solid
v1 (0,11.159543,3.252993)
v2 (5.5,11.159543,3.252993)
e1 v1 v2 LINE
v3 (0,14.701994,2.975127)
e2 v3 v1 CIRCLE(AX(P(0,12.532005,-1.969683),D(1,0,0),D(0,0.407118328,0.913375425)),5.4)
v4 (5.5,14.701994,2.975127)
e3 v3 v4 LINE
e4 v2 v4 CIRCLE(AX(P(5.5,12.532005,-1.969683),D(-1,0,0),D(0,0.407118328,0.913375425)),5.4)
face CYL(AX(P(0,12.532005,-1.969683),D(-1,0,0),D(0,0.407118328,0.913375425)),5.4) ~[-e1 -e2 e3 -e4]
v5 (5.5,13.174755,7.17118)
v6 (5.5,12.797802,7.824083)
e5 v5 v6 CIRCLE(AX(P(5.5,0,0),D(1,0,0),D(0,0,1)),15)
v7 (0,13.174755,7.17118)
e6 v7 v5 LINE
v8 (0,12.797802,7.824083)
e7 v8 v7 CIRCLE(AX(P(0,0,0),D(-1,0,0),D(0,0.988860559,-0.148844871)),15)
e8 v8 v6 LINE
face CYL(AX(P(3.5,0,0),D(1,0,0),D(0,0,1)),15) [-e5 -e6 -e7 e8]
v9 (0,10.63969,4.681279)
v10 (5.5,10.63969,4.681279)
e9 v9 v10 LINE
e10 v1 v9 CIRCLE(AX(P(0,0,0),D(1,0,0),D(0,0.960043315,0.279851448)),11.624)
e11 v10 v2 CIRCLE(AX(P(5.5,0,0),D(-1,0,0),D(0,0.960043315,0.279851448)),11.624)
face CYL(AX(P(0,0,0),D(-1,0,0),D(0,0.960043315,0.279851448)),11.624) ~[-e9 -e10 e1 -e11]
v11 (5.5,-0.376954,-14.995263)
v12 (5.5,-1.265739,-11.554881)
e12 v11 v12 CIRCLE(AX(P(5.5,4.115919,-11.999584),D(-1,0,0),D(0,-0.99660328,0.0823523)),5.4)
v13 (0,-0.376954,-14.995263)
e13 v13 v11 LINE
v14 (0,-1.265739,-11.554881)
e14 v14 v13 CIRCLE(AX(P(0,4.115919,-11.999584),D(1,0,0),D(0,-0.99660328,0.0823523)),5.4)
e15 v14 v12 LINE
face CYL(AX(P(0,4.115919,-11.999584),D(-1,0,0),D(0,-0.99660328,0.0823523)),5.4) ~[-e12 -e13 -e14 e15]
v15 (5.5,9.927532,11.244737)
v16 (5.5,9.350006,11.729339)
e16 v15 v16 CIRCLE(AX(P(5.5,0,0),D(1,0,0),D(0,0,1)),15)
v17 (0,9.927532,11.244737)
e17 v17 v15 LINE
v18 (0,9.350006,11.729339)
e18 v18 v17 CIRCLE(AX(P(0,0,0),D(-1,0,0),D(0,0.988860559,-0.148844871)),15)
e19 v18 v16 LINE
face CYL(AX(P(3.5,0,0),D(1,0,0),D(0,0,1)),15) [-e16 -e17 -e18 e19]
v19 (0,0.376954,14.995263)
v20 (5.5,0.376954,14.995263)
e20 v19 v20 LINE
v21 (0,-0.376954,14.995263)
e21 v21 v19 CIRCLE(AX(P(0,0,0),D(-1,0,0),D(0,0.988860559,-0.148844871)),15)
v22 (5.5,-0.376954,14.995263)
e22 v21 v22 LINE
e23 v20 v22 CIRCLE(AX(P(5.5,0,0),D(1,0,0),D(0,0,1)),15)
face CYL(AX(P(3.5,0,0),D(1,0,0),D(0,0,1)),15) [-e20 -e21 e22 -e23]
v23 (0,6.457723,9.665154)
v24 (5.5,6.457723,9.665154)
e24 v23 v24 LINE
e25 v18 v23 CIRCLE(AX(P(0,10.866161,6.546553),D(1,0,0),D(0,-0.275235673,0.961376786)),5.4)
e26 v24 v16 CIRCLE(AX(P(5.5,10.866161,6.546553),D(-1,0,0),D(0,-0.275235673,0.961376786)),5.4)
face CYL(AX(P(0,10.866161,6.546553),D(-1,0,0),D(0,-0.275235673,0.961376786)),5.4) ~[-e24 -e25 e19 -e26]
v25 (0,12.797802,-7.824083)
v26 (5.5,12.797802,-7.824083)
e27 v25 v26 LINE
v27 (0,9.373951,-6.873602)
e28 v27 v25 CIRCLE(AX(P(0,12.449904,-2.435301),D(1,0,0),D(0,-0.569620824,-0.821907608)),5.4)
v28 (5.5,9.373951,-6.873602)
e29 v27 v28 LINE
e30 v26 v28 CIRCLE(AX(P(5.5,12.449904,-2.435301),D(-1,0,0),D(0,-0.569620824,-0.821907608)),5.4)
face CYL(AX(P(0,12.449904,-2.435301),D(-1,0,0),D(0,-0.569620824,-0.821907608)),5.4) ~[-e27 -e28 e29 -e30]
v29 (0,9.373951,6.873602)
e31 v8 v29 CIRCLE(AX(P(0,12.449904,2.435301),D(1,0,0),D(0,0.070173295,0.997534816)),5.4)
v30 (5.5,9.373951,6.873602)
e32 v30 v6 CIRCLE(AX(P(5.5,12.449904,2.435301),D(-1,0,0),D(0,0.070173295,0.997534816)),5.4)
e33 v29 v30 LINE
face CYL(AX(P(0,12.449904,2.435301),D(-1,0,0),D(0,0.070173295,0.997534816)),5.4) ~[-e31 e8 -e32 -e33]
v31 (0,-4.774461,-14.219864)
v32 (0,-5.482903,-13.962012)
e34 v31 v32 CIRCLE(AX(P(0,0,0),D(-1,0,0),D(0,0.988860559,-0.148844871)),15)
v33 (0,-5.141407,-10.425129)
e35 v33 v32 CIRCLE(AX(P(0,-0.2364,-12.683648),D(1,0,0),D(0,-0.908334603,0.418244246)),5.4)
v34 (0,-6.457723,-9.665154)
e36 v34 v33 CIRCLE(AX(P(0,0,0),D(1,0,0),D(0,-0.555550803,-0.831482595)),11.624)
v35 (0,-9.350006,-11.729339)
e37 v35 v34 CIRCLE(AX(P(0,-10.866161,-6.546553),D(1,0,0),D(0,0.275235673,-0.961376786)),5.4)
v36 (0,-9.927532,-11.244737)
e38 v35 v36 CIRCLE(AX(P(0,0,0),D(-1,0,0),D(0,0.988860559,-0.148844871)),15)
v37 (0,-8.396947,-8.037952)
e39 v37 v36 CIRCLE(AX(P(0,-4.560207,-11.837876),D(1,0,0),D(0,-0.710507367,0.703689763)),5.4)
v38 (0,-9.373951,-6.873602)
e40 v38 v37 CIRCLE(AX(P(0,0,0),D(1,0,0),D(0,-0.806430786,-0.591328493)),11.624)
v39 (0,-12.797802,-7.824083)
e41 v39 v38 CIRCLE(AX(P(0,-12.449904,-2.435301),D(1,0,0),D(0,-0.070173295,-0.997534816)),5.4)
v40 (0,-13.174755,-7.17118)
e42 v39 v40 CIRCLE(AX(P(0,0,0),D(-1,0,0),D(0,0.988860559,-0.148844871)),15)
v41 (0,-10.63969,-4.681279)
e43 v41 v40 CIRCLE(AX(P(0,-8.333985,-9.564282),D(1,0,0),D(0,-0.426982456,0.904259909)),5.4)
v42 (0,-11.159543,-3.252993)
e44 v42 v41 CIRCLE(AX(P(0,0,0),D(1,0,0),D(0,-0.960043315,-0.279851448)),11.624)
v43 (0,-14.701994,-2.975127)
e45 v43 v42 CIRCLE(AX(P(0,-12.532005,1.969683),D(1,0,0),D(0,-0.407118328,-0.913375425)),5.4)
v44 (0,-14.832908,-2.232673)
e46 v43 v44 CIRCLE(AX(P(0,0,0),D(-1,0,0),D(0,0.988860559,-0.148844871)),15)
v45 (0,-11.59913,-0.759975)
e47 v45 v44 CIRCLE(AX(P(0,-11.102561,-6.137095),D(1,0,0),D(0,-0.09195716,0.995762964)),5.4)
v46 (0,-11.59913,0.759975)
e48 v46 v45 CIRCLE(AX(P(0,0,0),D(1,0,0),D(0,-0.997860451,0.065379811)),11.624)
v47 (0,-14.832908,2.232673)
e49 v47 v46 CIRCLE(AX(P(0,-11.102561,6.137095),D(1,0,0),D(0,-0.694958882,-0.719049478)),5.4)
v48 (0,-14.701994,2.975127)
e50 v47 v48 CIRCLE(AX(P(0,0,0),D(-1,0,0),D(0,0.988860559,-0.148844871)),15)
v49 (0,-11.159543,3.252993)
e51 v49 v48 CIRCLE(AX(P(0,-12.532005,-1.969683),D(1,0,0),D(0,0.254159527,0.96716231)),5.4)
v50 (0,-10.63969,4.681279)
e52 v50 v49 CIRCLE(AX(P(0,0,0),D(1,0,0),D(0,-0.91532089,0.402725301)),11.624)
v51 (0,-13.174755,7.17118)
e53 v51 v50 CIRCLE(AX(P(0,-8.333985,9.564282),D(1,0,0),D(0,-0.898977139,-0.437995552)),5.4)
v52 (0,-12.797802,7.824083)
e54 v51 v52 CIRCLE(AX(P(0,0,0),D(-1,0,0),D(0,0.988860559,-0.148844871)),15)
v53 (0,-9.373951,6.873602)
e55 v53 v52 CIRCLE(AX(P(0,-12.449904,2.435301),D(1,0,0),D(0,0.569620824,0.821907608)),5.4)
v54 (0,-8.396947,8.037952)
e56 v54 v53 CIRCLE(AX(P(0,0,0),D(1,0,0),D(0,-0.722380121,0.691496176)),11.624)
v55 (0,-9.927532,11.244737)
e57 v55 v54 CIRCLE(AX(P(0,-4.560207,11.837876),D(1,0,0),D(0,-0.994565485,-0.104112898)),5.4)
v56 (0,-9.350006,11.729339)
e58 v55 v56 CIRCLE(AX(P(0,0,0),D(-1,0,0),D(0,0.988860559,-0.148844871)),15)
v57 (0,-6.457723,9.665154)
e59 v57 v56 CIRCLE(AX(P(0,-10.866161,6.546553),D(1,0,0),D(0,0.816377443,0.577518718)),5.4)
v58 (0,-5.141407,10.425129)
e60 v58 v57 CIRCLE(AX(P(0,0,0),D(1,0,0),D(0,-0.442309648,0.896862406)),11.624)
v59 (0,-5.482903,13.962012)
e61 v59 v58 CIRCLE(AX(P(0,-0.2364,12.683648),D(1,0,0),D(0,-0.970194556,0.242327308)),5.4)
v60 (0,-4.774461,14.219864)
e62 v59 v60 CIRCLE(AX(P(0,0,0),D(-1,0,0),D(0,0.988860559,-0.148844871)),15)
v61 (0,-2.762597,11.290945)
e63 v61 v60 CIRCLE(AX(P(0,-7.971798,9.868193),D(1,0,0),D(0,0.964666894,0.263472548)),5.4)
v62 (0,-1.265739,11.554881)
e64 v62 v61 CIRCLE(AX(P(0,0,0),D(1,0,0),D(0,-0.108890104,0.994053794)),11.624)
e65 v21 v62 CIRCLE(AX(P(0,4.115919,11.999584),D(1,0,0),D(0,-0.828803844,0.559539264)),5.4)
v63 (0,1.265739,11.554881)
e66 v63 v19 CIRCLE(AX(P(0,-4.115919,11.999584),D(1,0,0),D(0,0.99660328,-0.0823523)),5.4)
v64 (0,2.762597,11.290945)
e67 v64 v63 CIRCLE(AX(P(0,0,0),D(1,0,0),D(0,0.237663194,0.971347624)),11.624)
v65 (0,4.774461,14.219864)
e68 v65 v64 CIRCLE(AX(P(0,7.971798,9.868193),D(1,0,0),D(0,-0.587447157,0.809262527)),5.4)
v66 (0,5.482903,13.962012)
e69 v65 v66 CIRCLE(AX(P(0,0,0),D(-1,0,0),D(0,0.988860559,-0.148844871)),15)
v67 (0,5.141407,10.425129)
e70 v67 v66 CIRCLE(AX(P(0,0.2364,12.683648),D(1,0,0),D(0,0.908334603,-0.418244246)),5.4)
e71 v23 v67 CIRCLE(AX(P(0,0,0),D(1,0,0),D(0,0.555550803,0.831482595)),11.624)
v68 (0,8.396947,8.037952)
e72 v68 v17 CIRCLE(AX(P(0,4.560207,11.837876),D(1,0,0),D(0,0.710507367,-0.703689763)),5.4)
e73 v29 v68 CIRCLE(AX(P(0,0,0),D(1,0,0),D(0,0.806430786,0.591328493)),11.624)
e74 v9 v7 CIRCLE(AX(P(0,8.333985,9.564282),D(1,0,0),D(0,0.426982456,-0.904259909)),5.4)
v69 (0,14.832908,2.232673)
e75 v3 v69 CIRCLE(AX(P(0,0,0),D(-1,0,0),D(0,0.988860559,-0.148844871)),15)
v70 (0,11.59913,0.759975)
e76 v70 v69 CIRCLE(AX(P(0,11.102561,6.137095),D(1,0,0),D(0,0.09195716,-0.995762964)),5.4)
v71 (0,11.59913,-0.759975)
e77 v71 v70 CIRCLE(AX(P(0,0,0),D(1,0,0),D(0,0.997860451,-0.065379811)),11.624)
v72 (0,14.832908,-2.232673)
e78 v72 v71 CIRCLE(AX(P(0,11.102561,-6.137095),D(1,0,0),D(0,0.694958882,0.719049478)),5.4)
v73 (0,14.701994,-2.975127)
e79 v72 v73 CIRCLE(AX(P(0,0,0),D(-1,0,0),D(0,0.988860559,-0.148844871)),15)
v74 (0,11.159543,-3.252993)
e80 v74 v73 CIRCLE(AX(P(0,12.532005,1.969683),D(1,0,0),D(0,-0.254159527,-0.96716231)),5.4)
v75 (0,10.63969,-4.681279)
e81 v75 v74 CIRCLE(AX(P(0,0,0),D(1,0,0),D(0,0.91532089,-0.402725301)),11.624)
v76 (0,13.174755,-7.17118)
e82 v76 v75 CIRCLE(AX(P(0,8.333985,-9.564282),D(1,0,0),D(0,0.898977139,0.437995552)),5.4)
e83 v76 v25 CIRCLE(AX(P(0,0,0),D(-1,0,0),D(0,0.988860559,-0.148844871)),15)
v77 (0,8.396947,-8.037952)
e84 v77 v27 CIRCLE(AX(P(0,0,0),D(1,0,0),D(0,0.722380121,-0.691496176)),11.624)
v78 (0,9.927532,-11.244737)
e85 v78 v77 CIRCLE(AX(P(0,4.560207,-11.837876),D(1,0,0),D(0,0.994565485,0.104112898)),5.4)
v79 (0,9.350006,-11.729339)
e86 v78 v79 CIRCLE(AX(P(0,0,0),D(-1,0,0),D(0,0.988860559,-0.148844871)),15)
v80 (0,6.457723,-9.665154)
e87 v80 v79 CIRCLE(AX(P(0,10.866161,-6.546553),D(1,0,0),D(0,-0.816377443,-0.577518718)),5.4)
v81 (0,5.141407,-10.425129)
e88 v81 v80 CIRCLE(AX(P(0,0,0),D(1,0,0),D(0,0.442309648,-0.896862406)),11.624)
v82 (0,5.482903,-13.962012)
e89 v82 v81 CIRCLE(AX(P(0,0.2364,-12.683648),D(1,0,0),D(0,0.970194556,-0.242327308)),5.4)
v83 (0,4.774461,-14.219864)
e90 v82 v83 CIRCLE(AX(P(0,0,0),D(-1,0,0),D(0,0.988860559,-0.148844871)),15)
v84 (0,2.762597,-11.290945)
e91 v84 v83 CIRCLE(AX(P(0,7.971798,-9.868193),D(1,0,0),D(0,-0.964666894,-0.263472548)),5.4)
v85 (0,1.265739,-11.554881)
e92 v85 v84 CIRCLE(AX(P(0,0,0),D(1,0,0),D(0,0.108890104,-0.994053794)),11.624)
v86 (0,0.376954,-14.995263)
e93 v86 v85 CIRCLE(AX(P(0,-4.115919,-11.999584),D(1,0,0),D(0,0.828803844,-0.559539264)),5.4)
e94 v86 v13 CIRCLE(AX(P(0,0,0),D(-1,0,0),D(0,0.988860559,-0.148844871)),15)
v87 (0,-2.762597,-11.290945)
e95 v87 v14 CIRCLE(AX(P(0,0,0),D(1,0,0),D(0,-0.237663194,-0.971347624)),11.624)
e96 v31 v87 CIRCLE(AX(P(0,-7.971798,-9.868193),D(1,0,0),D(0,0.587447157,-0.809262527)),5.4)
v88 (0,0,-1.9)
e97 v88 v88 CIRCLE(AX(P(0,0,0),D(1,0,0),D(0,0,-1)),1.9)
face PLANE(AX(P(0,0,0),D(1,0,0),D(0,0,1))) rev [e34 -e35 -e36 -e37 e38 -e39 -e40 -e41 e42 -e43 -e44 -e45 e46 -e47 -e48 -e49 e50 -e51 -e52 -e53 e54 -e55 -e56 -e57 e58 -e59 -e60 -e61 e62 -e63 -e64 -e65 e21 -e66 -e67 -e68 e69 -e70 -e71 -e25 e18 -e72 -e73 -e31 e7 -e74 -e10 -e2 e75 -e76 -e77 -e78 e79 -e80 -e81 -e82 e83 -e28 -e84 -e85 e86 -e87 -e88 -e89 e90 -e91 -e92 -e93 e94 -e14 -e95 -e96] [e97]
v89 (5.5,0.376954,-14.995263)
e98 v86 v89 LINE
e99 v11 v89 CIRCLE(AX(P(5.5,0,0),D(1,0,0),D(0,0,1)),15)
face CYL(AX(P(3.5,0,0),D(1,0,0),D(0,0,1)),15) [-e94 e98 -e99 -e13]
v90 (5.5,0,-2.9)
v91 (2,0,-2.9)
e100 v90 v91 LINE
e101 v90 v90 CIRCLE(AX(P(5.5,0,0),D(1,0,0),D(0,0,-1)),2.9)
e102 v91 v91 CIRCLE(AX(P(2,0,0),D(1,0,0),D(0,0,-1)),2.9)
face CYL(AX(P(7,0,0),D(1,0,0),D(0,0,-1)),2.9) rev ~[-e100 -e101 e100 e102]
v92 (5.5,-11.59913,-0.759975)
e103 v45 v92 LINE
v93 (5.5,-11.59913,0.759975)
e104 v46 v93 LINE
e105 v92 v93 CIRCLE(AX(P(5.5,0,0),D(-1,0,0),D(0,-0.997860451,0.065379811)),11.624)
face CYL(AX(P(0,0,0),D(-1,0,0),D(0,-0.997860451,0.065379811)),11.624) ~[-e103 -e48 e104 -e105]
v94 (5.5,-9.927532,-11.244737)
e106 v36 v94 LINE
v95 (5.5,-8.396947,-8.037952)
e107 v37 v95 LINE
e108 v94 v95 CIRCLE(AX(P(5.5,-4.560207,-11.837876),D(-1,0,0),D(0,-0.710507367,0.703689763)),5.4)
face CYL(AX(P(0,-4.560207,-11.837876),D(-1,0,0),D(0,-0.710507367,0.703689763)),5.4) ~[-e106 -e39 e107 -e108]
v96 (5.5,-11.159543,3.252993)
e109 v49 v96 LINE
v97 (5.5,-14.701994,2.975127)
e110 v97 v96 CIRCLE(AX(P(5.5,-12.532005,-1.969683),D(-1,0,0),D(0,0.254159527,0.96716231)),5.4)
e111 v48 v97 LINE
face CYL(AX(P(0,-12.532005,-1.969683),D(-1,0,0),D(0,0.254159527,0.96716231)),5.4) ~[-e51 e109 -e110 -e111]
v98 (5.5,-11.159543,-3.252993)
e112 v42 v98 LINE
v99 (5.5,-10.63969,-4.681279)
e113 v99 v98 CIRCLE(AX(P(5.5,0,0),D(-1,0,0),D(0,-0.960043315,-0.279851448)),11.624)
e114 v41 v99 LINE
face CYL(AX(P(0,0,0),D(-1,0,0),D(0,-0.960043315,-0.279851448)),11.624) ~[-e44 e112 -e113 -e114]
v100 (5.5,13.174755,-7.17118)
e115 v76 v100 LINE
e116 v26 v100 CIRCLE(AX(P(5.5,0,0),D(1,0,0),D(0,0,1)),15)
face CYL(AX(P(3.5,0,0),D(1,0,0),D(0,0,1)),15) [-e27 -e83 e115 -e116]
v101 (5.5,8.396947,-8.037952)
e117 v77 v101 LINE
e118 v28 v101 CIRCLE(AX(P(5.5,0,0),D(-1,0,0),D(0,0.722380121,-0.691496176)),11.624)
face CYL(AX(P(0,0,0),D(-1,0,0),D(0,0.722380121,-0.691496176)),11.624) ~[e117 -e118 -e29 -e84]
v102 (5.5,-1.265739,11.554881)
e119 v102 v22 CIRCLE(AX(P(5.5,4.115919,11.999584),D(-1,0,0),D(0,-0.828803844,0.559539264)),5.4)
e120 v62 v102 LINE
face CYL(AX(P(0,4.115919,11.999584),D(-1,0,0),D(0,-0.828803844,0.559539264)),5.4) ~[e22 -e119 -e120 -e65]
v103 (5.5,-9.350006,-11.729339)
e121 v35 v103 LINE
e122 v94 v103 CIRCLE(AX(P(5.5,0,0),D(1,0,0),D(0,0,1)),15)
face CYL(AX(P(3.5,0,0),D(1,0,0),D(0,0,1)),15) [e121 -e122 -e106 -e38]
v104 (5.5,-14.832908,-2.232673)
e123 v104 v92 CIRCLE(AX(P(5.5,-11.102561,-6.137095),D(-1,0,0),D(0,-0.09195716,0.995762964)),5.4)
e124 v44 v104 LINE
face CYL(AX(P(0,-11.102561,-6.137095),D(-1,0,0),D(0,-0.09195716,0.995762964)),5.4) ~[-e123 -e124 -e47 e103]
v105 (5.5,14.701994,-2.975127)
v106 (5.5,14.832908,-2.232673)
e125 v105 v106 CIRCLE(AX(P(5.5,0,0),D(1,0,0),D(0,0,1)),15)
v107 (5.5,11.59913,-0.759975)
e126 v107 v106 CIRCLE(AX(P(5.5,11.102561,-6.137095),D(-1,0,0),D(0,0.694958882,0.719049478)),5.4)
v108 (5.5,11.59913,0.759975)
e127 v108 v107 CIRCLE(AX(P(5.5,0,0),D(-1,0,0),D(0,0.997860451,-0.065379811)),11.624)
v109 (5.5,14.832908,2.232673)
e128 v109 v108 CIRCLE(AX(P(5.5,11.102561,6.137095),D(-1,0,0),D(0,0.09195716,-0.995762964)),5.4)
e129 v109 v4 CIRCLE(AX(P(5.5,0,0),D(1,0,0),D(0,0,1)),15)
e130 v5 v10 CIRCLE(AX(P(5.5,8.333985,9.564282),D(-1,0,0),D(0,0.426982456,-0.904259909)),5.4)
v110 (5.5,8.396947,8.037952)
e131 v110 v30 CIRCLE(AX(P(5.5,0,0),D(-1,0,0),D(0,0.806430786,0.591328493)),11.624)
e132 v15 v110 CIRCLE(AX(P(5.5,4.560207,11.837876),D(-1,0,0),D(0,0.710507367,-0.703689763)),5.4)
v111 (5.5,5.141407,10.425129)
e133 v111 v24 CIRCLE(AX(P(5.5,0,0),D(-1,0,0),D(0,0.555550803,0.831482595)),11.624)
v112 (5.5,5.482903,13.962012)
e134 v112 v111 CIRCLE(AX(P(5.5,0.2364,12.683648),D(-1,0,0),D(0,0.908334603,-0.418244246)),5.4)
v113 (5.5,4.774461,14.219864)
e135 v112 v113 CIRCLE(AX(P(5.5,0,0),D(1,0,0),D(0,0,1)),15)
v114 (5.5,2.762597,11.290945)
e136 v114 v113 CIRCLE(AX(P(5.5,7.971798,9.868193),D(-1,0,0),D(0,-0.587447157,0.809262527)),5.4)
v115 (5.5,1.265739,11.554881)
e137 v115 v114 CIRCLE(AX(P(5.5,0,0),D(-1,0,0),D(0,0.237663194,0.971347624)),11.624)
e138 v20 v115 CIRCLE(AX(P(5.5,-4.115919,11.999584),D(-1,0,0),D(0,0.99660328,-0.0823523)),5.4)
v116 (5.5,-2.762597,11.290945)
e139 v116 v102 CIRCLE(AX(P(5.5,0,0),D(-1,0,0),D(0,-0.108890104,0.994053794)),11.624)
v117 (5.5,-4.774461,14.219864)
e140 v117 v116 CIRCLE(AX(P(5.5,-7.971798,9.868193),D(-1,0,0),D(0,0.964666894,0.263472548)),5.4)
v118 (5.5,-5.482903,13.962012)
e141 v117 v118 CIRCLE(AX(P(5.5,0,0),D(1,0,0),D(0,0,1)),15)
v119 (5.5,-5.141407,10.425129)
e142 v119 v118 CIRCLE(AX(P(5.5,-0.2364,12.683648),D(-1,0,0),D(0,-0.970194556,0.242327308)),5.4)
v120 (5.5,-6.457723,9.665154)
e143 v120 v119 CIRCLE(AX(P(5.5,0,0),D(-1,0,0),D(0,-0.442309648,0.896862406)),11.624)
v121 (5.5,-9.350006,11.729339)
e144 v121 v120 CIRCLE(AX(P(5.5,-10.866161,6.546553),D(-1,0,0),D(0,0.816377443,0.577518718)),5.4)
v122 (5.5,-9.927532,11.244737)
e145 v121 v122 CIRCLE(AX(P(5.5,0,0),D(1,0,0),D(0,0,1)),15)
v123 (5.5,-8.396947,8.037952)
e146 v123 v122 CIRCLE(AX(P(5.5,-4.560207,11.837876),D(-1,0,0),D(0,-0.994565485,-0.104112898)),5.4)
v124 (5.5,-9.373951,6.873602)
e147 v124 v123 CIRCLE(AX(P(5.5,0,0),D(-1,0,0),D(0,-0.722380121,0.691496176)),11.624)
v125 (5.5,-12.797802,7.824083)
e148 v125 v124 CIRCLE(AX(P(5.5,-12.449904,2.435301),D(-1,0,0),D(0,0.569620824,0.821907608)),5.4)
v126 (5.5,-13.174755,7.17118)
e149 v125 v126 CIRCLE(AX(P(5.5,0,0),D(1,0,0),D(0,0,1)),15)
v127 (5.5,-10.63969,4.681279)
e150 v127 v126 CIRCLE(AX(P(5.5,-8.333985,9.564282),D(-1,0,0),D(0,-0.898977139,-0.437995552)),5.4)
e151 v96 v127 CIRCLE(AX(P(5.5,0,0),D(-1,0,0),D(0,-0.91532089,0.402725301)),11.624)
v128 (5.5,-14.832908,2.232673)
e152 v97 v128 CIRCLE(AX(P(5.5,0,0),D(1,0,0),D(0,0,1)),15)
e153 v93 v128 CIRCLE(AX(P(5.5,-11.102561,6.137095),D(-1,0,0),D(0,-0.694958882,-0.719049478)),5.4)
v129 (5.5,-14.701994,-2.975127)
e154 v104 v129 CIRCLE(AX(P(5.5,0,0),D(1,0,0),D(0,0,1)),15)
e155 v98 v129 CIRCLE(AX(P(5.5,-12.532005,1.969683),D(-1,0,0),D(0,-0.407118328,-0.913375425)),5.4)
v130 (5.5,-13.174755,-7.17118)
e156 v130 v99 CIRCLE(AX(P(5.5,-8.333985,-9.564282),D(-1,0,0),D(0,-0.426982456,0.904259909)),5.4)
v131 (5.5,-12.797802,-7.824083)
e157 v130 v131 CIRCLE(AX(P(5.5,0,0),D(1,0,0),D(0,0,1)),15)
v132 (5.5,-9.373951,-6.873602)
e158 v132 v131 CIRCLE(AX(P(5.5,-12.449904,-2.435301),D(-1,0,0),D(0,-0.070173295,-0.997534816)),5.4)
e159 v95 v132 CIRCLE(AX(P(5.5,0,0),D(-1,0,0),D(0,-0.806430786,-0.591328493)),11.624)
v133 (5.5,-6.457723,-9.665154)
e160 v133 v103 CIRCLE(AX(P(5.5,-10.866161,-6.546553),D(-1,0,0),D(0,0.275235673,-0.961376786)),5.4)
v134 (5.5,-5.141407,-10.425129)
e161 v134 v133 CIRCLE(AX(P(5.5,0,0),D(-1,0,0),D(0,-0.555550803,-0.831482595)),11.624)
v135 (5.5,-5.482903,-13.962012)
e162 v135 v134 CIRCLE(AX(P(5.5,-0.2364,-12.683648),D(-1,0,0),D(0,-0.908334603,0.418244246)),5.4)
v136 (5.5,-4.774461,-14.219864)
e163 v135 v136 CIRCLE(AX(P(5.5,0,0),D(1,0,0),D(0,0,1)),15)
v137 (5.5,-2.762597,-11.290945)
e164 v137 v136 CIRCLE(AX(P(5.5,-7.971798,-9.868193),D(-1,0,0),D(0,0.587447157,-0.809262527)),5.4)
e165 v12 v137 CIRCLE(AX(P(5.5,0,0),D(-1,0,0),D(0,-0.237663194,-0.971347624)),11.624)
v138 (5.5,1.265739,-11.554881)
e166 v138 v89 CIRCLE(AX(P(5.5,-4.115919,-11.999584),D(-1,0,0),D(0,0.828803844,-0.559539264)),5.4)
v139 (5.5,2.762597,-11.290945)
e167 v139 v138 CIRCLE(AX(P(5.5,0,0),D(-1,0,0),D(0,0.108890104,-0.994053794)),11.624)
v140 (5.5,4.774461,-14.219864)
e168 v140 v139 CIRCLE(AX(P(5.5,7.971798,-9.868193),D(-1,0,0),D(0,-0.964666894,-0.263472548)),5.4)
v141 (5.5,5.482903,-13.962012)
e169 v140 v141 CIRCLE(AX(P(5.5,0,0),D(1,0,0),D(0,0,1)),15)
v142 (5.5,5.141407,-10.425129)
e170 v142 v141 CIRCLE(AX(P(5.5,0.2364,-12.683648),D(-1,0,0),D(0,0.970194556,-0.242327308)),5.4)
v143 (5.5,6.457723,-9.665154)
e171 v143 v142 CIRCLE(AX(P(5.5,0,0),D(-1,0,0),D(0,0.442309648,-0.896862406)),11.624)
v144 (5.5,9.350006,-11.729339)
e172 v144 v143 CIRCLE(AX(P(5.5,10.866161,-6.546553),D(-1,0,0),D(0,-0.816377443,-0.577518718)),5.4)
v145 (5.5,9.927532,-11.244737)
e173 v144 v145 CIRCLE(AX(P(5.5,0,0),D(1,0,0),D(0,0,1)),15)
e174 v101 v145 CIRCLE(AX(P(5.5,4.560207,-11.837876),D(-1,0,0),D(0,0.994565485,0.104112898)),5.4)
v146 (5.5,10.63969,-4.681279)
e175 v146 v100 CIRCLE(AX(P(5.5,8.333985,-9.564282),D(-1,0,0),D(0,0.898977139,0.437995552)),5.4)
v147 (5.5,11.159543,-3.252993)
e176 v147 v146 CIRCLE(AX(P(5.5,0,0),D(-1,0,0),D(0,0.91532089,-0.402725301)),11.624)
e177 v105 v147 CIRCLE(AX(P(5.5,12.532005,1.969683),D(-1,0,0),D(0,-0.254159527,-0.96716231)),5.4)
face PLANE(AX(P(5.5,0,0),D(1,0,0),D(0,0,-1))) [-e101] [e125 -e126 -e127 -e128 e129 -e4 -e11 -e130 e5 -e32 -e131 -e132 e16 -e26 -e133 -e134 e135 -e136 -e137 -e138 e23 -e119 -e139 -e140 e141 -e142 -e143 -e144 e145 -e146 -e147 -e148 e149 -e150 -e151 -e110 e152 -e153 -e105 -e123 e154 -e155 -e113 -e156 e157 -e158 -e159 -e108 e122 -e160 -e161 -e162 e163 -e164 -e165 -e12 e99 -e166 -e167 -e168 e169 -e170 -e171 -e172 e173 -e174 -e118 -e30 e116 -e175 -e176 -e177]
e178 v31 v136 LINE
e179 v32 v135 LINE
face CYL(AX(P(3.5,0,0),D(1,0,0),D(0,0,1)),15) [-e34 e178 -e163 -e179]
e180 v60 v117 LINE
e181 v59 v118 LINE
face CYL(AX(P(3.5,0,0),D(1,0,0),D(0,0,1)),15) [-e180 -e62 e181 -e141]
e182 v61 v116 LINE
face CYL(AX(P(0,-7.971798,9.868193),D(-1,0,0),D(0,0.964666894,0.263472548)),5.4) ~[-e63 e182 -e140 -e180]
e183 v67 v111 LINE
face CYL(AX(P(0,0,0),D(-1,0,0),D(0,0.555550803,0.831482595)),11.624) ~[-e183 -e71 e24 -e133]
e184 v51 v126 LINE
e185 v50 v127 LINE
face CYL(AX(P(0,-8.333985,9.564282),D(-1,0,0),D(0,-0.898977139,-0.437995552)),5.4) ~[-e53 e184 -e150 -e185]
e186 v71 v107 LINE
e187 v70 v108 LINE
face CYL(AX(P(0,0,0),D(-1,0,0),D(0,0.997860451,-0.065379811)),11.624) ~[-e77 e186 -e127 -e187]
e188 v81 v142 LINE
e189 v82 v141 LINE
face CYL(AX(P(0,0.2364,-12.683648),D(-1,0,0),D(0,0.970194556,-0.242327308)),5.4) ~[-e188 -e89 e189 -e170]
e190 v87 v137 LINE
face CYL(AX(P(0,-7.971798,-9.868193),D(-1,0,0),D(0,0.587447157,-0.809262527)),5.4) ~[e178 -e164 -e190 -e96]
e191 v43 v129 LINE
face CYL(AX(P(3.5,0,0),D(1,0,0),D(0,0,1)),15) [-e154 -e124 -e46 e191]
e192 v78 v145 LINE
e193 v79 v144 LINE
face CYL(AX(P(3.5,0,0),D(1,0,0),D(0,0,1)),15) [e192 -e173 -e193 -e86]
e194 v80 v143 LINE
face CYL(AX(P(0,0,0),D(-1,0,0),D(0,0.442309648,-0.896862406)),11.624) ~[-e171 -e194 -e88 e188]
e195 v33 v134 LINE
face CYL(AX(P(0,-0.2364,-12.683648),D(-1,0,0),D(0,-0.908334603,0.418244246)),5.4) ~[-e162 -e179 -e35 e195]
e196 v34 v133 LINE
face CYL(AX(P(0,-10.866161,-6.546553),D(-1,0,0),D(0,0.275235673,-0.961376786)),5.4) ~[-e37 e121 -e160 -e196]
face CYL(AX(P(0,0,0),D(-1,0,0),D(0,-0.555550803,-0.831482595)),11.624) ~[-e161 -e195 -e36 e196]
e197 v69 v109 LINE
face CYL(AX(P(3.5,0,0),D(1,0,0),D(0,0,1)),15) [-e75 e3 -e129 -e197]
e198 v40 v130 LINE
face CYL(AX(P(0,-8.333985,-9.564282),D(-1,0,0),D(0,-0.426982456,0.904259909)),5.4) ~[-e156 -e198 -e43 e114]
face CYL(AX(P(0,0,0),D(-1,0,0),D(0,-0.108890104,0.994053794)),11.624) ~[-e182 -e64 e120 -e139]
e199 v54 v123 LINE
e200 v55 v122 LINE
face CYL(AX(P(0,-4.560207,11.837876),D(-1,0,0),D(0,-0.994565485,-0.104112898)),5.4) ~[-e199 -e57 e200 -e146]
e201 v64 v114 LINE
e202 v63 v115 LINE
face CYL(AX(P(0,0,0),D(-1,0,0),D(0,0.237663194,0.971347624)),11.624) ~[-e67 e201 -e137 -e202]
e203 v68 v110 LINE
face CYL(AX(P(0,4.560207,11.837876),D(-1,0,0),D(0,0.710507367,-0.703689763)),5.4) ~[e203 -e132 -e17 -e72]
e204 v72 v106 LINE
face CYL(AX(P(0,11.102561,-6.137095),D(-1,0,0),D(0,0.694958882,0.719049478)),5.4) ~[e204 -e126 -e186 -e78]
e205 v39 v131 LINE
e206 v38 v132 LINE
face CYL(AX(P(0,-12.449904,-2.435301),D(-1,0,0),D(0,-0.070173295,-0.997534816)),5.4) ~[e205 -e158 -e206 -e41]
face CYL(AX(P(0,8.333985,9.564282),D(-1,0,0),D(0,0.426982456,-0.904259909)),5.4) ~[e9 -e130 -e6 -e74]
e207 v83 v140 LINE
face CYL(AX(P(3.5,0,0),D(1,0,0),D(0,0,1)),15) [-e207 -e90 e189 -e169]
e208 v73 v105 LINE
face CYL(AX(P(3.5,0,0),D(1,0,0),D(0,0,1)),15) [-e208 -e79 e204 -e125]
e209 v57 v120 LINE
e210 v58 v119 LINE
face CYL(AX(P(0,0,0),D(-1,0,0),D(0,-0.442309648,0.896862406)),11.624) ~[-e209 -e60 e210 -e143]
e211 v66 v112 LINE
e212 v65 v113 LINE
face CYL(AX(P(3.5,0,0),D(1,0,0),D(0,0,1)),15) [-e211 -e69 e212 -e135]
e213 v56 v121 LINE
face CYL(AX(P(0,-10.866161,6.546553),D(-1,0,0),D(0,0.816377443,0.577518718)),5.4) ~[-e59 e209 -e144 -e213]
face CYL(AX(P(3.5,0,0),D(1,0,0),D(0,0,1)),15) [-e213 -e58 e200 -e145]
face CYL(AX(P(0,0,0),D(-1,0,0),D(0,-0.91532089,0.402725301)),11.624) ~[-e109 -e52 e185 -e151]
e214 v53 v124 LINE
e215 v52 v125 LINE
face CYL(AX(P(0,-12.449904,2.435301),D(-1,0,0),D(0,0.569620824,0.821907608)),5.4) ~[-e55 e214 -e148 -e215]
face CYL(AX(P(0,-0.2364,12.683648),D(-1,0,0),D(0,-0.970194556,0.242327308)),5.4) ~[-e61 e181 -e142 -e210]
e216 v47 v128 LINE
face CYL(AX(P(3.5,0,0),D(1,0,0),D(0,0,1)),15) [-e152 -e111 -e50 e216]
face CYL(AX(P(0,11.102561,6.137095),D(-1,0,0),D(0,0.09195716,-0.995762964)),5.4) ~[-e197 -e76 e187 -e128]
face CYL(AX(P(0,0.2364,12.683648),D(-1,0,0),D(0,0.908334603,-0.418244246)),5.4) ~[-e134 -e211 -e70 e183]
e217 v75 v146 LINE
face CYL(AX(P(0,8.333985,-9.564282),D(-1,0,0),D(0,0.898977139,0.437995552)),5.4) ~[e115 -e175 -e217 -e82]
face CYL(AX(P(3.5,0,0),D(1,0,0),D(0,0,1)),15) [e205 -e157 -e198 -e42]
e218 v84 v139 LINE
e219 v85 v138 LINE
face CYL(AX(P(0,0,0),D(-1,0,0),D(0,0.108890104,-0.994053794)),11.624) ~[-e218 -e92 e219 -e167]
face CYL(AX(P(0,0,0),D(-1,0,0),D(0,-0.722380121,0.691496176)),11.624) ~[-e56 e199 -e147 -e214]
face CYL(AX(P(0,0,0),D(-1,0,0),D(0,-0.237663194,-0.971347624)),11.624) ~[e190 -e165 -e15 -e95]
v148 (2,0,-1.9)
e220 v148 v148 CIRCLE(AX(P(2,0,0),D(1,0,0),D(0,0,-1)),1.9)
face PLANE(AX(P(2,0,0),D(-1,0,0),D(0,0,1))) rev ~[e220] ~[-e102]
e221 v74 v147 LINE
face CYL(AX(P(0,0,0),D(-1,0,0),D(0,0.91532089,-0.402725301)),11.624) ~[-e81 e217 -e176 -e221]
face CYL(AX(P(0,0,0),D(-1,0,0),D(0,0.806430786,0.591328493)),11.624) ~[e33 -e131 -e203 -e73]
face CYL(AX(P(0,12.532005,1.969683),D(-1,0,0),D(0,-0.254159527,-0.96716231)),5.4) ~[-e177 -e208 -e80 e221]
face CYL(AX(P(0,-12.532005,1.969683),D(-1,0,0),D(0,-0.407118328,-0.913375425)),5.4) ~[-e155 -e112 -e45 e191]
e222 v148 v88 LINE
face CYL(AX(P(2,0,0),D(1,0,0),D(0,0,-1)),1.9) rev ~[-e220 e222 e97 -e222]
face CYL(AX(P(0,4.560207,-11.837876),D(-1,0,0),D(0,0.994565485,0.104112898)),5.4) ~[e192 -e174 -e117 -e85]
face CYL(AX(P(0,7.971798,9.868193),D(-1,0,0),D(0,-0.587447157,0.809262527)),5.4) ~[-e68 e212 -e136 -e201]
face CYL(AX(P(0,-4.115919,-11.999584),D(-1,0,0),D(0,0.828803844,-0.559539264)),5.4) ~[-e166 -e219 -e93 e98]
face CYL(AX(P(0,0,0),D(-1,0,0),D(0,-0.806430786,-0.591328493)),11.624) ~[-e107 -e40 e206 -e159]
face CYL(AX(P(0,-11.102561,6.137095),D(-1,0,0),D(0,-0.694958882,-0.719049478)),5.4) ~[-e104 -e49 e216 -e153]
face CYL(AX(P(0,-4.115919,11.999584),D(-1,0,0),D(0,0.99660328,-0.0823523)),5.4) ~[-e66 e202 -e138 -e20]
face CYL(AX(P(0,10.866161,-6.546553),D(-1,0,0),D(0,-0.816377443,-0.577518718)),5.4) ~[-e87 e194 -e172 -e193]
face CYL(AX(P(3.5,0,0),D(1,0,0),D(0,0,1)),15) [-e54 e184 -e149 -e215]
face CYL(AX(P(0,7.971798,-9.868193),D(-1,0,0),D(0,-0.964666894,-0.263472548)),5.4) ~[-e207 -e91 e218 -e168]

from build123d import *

# Parameters (mm, degrees)
BASPROSKE_W             = 7
BASPROSKE_H             = 15
TOOTHCUT_DEPTH          = 23.338307904
TEETHCUTS_COUNT         = 18
TEETHCUTS_ANGLE         = 340
BORSKE_R                = 2.5
BORE_DEPTH              = 50.0000508
CROQUIS1_R              = 2.9
CORTAR_EXTRUIR1_DEPTH   = 10
CROQUIS4_R              = 3.489132724
SALIENTE_EXTRUIR1_DEPTH = 2
CROQUIS5_R              = 1.9
CORTAR_EXTRUIR3_DEPTH   = 5
CROQUIS6_R              = 21.972687295
CORTAR_EXTRUIR4_DEPTH   = 1.5


with BuildPart() as part:
    # BasProSke → Base-Revolve (revolve)
    with BuildSketch(Plane(origin=(0, 0, 0), x_dir=(1, 0, 0), z_dir=(0, 1, 0)), mode=Mode.PRIVATE) as base_revolve_sk:
        with Locations((3.5, 7.5)):
            Rectangle(BASPROSKE_W, BASPROSKE_H)
    revolve(base_revolve_sk.sketch.rotate(Axis((-10, 0, 0), (1, 0, 0)), 180), axis=Axis((-10, 0, 0), (1, 0, 0)))

    # TooCutSke → ToothCut (cut, through all)
    with BuildSketch(Plane(origin=(0, 0, 0), x_dir=(0, 0, -1), z_dir=(1, 0, 0))):
        with BuildLine():
            ThreePointArc((0.759974923, 11.599129886), (0, 11.624), (-0.759974923, 11.599129886))
            ThreePointArc((-0.759974923, 11.599129886), (-1.229186471, 13.354767823), (-2.254227748, 14.855339189))
            ThreePointArc((-2.254227748, 14.855339189), (0, 15.0254), (2.254227748, 14.855339189))
            ThreePointArc((2.254227748, 14.855339189), (1.229186471, 13.354767823), (0.759974923, 11.599129886))
        make_face()
    toothcut = extrude(amount=TOOTHCUT_DEPTH, mode=Mode.SUBTRACT)

    # TeethCuts: ToothCut ×18 about axis
    teethcuts_axis = Axis((-10, 0, 0), (1, 0, 0))
    for i in range(1, TEETHCUTS_COUNT):
        add(toothcut.rotate(teethcuts_axis, i * TEETHCUTS_ANGLE / (TEETHCUTS_COUNT - 1)), mode=Mode.SUBTRACT)

    # BorSke → Bore (cut, symmetric)
    with BuildSketch(Plane(origin=(0, 0, 0), x_dir=(0, 0, -1), z_dir=(1, 0, 0))):
        with Locations(Location((0, 0, 0), (0, 0, 180))):
            Circle(BORSKE_R)
    extrude(amount=BORE_DEPTH, both=True, mode=Mode.SUBTRACT)

    # Croquis1 → Cortar-Extruir1 (cut)
    with BuildSketch(Plane(origin=(7, 0, 0), x_dir=(0, 0, -1), z_dir=(1, 0, 0))):
        Circle(CROQUIS1_R)
    extrude(amount=-CORTAR_EXTRUIR1_DEPTH, mode=Mode.SUBTRACT)

    # Croquis4 → Saliente-Extruir1 (add, through all)
    with BuildSketch(Plane.ZY.offset(-2)):
        Circle(CROQUIS4_R)
    extrude(amount=SALIENTE_EXTRUIR1_DEPTH)

    # Croquis5 → Cortar-Extruir3 (cut)
    with BuildSketch(Plane(origin=(2, 0, 0), x_dir=(0, 0, -1), z_dir=(1, 0, 0))):
        Circle(CROQUIS5_R)
    extrude(amount=-CORTAR_EXTRUIR3_DEPTH, mode=Mode.SUBTRACT)

    # Croquis6 → Cortar-Extruir4 (cut)
    with BuildSketch(Plane(origin=(7, 0, 0), x_dir=(0, 0, -1), z_dir=(1, 0, 0))):
        Circle(CROQUIS6_R)
    extrude(amount=-CORTAR_EXTRUIR4_DEPTH, mode=Mode.SUBTRACT)


solid = part.part
